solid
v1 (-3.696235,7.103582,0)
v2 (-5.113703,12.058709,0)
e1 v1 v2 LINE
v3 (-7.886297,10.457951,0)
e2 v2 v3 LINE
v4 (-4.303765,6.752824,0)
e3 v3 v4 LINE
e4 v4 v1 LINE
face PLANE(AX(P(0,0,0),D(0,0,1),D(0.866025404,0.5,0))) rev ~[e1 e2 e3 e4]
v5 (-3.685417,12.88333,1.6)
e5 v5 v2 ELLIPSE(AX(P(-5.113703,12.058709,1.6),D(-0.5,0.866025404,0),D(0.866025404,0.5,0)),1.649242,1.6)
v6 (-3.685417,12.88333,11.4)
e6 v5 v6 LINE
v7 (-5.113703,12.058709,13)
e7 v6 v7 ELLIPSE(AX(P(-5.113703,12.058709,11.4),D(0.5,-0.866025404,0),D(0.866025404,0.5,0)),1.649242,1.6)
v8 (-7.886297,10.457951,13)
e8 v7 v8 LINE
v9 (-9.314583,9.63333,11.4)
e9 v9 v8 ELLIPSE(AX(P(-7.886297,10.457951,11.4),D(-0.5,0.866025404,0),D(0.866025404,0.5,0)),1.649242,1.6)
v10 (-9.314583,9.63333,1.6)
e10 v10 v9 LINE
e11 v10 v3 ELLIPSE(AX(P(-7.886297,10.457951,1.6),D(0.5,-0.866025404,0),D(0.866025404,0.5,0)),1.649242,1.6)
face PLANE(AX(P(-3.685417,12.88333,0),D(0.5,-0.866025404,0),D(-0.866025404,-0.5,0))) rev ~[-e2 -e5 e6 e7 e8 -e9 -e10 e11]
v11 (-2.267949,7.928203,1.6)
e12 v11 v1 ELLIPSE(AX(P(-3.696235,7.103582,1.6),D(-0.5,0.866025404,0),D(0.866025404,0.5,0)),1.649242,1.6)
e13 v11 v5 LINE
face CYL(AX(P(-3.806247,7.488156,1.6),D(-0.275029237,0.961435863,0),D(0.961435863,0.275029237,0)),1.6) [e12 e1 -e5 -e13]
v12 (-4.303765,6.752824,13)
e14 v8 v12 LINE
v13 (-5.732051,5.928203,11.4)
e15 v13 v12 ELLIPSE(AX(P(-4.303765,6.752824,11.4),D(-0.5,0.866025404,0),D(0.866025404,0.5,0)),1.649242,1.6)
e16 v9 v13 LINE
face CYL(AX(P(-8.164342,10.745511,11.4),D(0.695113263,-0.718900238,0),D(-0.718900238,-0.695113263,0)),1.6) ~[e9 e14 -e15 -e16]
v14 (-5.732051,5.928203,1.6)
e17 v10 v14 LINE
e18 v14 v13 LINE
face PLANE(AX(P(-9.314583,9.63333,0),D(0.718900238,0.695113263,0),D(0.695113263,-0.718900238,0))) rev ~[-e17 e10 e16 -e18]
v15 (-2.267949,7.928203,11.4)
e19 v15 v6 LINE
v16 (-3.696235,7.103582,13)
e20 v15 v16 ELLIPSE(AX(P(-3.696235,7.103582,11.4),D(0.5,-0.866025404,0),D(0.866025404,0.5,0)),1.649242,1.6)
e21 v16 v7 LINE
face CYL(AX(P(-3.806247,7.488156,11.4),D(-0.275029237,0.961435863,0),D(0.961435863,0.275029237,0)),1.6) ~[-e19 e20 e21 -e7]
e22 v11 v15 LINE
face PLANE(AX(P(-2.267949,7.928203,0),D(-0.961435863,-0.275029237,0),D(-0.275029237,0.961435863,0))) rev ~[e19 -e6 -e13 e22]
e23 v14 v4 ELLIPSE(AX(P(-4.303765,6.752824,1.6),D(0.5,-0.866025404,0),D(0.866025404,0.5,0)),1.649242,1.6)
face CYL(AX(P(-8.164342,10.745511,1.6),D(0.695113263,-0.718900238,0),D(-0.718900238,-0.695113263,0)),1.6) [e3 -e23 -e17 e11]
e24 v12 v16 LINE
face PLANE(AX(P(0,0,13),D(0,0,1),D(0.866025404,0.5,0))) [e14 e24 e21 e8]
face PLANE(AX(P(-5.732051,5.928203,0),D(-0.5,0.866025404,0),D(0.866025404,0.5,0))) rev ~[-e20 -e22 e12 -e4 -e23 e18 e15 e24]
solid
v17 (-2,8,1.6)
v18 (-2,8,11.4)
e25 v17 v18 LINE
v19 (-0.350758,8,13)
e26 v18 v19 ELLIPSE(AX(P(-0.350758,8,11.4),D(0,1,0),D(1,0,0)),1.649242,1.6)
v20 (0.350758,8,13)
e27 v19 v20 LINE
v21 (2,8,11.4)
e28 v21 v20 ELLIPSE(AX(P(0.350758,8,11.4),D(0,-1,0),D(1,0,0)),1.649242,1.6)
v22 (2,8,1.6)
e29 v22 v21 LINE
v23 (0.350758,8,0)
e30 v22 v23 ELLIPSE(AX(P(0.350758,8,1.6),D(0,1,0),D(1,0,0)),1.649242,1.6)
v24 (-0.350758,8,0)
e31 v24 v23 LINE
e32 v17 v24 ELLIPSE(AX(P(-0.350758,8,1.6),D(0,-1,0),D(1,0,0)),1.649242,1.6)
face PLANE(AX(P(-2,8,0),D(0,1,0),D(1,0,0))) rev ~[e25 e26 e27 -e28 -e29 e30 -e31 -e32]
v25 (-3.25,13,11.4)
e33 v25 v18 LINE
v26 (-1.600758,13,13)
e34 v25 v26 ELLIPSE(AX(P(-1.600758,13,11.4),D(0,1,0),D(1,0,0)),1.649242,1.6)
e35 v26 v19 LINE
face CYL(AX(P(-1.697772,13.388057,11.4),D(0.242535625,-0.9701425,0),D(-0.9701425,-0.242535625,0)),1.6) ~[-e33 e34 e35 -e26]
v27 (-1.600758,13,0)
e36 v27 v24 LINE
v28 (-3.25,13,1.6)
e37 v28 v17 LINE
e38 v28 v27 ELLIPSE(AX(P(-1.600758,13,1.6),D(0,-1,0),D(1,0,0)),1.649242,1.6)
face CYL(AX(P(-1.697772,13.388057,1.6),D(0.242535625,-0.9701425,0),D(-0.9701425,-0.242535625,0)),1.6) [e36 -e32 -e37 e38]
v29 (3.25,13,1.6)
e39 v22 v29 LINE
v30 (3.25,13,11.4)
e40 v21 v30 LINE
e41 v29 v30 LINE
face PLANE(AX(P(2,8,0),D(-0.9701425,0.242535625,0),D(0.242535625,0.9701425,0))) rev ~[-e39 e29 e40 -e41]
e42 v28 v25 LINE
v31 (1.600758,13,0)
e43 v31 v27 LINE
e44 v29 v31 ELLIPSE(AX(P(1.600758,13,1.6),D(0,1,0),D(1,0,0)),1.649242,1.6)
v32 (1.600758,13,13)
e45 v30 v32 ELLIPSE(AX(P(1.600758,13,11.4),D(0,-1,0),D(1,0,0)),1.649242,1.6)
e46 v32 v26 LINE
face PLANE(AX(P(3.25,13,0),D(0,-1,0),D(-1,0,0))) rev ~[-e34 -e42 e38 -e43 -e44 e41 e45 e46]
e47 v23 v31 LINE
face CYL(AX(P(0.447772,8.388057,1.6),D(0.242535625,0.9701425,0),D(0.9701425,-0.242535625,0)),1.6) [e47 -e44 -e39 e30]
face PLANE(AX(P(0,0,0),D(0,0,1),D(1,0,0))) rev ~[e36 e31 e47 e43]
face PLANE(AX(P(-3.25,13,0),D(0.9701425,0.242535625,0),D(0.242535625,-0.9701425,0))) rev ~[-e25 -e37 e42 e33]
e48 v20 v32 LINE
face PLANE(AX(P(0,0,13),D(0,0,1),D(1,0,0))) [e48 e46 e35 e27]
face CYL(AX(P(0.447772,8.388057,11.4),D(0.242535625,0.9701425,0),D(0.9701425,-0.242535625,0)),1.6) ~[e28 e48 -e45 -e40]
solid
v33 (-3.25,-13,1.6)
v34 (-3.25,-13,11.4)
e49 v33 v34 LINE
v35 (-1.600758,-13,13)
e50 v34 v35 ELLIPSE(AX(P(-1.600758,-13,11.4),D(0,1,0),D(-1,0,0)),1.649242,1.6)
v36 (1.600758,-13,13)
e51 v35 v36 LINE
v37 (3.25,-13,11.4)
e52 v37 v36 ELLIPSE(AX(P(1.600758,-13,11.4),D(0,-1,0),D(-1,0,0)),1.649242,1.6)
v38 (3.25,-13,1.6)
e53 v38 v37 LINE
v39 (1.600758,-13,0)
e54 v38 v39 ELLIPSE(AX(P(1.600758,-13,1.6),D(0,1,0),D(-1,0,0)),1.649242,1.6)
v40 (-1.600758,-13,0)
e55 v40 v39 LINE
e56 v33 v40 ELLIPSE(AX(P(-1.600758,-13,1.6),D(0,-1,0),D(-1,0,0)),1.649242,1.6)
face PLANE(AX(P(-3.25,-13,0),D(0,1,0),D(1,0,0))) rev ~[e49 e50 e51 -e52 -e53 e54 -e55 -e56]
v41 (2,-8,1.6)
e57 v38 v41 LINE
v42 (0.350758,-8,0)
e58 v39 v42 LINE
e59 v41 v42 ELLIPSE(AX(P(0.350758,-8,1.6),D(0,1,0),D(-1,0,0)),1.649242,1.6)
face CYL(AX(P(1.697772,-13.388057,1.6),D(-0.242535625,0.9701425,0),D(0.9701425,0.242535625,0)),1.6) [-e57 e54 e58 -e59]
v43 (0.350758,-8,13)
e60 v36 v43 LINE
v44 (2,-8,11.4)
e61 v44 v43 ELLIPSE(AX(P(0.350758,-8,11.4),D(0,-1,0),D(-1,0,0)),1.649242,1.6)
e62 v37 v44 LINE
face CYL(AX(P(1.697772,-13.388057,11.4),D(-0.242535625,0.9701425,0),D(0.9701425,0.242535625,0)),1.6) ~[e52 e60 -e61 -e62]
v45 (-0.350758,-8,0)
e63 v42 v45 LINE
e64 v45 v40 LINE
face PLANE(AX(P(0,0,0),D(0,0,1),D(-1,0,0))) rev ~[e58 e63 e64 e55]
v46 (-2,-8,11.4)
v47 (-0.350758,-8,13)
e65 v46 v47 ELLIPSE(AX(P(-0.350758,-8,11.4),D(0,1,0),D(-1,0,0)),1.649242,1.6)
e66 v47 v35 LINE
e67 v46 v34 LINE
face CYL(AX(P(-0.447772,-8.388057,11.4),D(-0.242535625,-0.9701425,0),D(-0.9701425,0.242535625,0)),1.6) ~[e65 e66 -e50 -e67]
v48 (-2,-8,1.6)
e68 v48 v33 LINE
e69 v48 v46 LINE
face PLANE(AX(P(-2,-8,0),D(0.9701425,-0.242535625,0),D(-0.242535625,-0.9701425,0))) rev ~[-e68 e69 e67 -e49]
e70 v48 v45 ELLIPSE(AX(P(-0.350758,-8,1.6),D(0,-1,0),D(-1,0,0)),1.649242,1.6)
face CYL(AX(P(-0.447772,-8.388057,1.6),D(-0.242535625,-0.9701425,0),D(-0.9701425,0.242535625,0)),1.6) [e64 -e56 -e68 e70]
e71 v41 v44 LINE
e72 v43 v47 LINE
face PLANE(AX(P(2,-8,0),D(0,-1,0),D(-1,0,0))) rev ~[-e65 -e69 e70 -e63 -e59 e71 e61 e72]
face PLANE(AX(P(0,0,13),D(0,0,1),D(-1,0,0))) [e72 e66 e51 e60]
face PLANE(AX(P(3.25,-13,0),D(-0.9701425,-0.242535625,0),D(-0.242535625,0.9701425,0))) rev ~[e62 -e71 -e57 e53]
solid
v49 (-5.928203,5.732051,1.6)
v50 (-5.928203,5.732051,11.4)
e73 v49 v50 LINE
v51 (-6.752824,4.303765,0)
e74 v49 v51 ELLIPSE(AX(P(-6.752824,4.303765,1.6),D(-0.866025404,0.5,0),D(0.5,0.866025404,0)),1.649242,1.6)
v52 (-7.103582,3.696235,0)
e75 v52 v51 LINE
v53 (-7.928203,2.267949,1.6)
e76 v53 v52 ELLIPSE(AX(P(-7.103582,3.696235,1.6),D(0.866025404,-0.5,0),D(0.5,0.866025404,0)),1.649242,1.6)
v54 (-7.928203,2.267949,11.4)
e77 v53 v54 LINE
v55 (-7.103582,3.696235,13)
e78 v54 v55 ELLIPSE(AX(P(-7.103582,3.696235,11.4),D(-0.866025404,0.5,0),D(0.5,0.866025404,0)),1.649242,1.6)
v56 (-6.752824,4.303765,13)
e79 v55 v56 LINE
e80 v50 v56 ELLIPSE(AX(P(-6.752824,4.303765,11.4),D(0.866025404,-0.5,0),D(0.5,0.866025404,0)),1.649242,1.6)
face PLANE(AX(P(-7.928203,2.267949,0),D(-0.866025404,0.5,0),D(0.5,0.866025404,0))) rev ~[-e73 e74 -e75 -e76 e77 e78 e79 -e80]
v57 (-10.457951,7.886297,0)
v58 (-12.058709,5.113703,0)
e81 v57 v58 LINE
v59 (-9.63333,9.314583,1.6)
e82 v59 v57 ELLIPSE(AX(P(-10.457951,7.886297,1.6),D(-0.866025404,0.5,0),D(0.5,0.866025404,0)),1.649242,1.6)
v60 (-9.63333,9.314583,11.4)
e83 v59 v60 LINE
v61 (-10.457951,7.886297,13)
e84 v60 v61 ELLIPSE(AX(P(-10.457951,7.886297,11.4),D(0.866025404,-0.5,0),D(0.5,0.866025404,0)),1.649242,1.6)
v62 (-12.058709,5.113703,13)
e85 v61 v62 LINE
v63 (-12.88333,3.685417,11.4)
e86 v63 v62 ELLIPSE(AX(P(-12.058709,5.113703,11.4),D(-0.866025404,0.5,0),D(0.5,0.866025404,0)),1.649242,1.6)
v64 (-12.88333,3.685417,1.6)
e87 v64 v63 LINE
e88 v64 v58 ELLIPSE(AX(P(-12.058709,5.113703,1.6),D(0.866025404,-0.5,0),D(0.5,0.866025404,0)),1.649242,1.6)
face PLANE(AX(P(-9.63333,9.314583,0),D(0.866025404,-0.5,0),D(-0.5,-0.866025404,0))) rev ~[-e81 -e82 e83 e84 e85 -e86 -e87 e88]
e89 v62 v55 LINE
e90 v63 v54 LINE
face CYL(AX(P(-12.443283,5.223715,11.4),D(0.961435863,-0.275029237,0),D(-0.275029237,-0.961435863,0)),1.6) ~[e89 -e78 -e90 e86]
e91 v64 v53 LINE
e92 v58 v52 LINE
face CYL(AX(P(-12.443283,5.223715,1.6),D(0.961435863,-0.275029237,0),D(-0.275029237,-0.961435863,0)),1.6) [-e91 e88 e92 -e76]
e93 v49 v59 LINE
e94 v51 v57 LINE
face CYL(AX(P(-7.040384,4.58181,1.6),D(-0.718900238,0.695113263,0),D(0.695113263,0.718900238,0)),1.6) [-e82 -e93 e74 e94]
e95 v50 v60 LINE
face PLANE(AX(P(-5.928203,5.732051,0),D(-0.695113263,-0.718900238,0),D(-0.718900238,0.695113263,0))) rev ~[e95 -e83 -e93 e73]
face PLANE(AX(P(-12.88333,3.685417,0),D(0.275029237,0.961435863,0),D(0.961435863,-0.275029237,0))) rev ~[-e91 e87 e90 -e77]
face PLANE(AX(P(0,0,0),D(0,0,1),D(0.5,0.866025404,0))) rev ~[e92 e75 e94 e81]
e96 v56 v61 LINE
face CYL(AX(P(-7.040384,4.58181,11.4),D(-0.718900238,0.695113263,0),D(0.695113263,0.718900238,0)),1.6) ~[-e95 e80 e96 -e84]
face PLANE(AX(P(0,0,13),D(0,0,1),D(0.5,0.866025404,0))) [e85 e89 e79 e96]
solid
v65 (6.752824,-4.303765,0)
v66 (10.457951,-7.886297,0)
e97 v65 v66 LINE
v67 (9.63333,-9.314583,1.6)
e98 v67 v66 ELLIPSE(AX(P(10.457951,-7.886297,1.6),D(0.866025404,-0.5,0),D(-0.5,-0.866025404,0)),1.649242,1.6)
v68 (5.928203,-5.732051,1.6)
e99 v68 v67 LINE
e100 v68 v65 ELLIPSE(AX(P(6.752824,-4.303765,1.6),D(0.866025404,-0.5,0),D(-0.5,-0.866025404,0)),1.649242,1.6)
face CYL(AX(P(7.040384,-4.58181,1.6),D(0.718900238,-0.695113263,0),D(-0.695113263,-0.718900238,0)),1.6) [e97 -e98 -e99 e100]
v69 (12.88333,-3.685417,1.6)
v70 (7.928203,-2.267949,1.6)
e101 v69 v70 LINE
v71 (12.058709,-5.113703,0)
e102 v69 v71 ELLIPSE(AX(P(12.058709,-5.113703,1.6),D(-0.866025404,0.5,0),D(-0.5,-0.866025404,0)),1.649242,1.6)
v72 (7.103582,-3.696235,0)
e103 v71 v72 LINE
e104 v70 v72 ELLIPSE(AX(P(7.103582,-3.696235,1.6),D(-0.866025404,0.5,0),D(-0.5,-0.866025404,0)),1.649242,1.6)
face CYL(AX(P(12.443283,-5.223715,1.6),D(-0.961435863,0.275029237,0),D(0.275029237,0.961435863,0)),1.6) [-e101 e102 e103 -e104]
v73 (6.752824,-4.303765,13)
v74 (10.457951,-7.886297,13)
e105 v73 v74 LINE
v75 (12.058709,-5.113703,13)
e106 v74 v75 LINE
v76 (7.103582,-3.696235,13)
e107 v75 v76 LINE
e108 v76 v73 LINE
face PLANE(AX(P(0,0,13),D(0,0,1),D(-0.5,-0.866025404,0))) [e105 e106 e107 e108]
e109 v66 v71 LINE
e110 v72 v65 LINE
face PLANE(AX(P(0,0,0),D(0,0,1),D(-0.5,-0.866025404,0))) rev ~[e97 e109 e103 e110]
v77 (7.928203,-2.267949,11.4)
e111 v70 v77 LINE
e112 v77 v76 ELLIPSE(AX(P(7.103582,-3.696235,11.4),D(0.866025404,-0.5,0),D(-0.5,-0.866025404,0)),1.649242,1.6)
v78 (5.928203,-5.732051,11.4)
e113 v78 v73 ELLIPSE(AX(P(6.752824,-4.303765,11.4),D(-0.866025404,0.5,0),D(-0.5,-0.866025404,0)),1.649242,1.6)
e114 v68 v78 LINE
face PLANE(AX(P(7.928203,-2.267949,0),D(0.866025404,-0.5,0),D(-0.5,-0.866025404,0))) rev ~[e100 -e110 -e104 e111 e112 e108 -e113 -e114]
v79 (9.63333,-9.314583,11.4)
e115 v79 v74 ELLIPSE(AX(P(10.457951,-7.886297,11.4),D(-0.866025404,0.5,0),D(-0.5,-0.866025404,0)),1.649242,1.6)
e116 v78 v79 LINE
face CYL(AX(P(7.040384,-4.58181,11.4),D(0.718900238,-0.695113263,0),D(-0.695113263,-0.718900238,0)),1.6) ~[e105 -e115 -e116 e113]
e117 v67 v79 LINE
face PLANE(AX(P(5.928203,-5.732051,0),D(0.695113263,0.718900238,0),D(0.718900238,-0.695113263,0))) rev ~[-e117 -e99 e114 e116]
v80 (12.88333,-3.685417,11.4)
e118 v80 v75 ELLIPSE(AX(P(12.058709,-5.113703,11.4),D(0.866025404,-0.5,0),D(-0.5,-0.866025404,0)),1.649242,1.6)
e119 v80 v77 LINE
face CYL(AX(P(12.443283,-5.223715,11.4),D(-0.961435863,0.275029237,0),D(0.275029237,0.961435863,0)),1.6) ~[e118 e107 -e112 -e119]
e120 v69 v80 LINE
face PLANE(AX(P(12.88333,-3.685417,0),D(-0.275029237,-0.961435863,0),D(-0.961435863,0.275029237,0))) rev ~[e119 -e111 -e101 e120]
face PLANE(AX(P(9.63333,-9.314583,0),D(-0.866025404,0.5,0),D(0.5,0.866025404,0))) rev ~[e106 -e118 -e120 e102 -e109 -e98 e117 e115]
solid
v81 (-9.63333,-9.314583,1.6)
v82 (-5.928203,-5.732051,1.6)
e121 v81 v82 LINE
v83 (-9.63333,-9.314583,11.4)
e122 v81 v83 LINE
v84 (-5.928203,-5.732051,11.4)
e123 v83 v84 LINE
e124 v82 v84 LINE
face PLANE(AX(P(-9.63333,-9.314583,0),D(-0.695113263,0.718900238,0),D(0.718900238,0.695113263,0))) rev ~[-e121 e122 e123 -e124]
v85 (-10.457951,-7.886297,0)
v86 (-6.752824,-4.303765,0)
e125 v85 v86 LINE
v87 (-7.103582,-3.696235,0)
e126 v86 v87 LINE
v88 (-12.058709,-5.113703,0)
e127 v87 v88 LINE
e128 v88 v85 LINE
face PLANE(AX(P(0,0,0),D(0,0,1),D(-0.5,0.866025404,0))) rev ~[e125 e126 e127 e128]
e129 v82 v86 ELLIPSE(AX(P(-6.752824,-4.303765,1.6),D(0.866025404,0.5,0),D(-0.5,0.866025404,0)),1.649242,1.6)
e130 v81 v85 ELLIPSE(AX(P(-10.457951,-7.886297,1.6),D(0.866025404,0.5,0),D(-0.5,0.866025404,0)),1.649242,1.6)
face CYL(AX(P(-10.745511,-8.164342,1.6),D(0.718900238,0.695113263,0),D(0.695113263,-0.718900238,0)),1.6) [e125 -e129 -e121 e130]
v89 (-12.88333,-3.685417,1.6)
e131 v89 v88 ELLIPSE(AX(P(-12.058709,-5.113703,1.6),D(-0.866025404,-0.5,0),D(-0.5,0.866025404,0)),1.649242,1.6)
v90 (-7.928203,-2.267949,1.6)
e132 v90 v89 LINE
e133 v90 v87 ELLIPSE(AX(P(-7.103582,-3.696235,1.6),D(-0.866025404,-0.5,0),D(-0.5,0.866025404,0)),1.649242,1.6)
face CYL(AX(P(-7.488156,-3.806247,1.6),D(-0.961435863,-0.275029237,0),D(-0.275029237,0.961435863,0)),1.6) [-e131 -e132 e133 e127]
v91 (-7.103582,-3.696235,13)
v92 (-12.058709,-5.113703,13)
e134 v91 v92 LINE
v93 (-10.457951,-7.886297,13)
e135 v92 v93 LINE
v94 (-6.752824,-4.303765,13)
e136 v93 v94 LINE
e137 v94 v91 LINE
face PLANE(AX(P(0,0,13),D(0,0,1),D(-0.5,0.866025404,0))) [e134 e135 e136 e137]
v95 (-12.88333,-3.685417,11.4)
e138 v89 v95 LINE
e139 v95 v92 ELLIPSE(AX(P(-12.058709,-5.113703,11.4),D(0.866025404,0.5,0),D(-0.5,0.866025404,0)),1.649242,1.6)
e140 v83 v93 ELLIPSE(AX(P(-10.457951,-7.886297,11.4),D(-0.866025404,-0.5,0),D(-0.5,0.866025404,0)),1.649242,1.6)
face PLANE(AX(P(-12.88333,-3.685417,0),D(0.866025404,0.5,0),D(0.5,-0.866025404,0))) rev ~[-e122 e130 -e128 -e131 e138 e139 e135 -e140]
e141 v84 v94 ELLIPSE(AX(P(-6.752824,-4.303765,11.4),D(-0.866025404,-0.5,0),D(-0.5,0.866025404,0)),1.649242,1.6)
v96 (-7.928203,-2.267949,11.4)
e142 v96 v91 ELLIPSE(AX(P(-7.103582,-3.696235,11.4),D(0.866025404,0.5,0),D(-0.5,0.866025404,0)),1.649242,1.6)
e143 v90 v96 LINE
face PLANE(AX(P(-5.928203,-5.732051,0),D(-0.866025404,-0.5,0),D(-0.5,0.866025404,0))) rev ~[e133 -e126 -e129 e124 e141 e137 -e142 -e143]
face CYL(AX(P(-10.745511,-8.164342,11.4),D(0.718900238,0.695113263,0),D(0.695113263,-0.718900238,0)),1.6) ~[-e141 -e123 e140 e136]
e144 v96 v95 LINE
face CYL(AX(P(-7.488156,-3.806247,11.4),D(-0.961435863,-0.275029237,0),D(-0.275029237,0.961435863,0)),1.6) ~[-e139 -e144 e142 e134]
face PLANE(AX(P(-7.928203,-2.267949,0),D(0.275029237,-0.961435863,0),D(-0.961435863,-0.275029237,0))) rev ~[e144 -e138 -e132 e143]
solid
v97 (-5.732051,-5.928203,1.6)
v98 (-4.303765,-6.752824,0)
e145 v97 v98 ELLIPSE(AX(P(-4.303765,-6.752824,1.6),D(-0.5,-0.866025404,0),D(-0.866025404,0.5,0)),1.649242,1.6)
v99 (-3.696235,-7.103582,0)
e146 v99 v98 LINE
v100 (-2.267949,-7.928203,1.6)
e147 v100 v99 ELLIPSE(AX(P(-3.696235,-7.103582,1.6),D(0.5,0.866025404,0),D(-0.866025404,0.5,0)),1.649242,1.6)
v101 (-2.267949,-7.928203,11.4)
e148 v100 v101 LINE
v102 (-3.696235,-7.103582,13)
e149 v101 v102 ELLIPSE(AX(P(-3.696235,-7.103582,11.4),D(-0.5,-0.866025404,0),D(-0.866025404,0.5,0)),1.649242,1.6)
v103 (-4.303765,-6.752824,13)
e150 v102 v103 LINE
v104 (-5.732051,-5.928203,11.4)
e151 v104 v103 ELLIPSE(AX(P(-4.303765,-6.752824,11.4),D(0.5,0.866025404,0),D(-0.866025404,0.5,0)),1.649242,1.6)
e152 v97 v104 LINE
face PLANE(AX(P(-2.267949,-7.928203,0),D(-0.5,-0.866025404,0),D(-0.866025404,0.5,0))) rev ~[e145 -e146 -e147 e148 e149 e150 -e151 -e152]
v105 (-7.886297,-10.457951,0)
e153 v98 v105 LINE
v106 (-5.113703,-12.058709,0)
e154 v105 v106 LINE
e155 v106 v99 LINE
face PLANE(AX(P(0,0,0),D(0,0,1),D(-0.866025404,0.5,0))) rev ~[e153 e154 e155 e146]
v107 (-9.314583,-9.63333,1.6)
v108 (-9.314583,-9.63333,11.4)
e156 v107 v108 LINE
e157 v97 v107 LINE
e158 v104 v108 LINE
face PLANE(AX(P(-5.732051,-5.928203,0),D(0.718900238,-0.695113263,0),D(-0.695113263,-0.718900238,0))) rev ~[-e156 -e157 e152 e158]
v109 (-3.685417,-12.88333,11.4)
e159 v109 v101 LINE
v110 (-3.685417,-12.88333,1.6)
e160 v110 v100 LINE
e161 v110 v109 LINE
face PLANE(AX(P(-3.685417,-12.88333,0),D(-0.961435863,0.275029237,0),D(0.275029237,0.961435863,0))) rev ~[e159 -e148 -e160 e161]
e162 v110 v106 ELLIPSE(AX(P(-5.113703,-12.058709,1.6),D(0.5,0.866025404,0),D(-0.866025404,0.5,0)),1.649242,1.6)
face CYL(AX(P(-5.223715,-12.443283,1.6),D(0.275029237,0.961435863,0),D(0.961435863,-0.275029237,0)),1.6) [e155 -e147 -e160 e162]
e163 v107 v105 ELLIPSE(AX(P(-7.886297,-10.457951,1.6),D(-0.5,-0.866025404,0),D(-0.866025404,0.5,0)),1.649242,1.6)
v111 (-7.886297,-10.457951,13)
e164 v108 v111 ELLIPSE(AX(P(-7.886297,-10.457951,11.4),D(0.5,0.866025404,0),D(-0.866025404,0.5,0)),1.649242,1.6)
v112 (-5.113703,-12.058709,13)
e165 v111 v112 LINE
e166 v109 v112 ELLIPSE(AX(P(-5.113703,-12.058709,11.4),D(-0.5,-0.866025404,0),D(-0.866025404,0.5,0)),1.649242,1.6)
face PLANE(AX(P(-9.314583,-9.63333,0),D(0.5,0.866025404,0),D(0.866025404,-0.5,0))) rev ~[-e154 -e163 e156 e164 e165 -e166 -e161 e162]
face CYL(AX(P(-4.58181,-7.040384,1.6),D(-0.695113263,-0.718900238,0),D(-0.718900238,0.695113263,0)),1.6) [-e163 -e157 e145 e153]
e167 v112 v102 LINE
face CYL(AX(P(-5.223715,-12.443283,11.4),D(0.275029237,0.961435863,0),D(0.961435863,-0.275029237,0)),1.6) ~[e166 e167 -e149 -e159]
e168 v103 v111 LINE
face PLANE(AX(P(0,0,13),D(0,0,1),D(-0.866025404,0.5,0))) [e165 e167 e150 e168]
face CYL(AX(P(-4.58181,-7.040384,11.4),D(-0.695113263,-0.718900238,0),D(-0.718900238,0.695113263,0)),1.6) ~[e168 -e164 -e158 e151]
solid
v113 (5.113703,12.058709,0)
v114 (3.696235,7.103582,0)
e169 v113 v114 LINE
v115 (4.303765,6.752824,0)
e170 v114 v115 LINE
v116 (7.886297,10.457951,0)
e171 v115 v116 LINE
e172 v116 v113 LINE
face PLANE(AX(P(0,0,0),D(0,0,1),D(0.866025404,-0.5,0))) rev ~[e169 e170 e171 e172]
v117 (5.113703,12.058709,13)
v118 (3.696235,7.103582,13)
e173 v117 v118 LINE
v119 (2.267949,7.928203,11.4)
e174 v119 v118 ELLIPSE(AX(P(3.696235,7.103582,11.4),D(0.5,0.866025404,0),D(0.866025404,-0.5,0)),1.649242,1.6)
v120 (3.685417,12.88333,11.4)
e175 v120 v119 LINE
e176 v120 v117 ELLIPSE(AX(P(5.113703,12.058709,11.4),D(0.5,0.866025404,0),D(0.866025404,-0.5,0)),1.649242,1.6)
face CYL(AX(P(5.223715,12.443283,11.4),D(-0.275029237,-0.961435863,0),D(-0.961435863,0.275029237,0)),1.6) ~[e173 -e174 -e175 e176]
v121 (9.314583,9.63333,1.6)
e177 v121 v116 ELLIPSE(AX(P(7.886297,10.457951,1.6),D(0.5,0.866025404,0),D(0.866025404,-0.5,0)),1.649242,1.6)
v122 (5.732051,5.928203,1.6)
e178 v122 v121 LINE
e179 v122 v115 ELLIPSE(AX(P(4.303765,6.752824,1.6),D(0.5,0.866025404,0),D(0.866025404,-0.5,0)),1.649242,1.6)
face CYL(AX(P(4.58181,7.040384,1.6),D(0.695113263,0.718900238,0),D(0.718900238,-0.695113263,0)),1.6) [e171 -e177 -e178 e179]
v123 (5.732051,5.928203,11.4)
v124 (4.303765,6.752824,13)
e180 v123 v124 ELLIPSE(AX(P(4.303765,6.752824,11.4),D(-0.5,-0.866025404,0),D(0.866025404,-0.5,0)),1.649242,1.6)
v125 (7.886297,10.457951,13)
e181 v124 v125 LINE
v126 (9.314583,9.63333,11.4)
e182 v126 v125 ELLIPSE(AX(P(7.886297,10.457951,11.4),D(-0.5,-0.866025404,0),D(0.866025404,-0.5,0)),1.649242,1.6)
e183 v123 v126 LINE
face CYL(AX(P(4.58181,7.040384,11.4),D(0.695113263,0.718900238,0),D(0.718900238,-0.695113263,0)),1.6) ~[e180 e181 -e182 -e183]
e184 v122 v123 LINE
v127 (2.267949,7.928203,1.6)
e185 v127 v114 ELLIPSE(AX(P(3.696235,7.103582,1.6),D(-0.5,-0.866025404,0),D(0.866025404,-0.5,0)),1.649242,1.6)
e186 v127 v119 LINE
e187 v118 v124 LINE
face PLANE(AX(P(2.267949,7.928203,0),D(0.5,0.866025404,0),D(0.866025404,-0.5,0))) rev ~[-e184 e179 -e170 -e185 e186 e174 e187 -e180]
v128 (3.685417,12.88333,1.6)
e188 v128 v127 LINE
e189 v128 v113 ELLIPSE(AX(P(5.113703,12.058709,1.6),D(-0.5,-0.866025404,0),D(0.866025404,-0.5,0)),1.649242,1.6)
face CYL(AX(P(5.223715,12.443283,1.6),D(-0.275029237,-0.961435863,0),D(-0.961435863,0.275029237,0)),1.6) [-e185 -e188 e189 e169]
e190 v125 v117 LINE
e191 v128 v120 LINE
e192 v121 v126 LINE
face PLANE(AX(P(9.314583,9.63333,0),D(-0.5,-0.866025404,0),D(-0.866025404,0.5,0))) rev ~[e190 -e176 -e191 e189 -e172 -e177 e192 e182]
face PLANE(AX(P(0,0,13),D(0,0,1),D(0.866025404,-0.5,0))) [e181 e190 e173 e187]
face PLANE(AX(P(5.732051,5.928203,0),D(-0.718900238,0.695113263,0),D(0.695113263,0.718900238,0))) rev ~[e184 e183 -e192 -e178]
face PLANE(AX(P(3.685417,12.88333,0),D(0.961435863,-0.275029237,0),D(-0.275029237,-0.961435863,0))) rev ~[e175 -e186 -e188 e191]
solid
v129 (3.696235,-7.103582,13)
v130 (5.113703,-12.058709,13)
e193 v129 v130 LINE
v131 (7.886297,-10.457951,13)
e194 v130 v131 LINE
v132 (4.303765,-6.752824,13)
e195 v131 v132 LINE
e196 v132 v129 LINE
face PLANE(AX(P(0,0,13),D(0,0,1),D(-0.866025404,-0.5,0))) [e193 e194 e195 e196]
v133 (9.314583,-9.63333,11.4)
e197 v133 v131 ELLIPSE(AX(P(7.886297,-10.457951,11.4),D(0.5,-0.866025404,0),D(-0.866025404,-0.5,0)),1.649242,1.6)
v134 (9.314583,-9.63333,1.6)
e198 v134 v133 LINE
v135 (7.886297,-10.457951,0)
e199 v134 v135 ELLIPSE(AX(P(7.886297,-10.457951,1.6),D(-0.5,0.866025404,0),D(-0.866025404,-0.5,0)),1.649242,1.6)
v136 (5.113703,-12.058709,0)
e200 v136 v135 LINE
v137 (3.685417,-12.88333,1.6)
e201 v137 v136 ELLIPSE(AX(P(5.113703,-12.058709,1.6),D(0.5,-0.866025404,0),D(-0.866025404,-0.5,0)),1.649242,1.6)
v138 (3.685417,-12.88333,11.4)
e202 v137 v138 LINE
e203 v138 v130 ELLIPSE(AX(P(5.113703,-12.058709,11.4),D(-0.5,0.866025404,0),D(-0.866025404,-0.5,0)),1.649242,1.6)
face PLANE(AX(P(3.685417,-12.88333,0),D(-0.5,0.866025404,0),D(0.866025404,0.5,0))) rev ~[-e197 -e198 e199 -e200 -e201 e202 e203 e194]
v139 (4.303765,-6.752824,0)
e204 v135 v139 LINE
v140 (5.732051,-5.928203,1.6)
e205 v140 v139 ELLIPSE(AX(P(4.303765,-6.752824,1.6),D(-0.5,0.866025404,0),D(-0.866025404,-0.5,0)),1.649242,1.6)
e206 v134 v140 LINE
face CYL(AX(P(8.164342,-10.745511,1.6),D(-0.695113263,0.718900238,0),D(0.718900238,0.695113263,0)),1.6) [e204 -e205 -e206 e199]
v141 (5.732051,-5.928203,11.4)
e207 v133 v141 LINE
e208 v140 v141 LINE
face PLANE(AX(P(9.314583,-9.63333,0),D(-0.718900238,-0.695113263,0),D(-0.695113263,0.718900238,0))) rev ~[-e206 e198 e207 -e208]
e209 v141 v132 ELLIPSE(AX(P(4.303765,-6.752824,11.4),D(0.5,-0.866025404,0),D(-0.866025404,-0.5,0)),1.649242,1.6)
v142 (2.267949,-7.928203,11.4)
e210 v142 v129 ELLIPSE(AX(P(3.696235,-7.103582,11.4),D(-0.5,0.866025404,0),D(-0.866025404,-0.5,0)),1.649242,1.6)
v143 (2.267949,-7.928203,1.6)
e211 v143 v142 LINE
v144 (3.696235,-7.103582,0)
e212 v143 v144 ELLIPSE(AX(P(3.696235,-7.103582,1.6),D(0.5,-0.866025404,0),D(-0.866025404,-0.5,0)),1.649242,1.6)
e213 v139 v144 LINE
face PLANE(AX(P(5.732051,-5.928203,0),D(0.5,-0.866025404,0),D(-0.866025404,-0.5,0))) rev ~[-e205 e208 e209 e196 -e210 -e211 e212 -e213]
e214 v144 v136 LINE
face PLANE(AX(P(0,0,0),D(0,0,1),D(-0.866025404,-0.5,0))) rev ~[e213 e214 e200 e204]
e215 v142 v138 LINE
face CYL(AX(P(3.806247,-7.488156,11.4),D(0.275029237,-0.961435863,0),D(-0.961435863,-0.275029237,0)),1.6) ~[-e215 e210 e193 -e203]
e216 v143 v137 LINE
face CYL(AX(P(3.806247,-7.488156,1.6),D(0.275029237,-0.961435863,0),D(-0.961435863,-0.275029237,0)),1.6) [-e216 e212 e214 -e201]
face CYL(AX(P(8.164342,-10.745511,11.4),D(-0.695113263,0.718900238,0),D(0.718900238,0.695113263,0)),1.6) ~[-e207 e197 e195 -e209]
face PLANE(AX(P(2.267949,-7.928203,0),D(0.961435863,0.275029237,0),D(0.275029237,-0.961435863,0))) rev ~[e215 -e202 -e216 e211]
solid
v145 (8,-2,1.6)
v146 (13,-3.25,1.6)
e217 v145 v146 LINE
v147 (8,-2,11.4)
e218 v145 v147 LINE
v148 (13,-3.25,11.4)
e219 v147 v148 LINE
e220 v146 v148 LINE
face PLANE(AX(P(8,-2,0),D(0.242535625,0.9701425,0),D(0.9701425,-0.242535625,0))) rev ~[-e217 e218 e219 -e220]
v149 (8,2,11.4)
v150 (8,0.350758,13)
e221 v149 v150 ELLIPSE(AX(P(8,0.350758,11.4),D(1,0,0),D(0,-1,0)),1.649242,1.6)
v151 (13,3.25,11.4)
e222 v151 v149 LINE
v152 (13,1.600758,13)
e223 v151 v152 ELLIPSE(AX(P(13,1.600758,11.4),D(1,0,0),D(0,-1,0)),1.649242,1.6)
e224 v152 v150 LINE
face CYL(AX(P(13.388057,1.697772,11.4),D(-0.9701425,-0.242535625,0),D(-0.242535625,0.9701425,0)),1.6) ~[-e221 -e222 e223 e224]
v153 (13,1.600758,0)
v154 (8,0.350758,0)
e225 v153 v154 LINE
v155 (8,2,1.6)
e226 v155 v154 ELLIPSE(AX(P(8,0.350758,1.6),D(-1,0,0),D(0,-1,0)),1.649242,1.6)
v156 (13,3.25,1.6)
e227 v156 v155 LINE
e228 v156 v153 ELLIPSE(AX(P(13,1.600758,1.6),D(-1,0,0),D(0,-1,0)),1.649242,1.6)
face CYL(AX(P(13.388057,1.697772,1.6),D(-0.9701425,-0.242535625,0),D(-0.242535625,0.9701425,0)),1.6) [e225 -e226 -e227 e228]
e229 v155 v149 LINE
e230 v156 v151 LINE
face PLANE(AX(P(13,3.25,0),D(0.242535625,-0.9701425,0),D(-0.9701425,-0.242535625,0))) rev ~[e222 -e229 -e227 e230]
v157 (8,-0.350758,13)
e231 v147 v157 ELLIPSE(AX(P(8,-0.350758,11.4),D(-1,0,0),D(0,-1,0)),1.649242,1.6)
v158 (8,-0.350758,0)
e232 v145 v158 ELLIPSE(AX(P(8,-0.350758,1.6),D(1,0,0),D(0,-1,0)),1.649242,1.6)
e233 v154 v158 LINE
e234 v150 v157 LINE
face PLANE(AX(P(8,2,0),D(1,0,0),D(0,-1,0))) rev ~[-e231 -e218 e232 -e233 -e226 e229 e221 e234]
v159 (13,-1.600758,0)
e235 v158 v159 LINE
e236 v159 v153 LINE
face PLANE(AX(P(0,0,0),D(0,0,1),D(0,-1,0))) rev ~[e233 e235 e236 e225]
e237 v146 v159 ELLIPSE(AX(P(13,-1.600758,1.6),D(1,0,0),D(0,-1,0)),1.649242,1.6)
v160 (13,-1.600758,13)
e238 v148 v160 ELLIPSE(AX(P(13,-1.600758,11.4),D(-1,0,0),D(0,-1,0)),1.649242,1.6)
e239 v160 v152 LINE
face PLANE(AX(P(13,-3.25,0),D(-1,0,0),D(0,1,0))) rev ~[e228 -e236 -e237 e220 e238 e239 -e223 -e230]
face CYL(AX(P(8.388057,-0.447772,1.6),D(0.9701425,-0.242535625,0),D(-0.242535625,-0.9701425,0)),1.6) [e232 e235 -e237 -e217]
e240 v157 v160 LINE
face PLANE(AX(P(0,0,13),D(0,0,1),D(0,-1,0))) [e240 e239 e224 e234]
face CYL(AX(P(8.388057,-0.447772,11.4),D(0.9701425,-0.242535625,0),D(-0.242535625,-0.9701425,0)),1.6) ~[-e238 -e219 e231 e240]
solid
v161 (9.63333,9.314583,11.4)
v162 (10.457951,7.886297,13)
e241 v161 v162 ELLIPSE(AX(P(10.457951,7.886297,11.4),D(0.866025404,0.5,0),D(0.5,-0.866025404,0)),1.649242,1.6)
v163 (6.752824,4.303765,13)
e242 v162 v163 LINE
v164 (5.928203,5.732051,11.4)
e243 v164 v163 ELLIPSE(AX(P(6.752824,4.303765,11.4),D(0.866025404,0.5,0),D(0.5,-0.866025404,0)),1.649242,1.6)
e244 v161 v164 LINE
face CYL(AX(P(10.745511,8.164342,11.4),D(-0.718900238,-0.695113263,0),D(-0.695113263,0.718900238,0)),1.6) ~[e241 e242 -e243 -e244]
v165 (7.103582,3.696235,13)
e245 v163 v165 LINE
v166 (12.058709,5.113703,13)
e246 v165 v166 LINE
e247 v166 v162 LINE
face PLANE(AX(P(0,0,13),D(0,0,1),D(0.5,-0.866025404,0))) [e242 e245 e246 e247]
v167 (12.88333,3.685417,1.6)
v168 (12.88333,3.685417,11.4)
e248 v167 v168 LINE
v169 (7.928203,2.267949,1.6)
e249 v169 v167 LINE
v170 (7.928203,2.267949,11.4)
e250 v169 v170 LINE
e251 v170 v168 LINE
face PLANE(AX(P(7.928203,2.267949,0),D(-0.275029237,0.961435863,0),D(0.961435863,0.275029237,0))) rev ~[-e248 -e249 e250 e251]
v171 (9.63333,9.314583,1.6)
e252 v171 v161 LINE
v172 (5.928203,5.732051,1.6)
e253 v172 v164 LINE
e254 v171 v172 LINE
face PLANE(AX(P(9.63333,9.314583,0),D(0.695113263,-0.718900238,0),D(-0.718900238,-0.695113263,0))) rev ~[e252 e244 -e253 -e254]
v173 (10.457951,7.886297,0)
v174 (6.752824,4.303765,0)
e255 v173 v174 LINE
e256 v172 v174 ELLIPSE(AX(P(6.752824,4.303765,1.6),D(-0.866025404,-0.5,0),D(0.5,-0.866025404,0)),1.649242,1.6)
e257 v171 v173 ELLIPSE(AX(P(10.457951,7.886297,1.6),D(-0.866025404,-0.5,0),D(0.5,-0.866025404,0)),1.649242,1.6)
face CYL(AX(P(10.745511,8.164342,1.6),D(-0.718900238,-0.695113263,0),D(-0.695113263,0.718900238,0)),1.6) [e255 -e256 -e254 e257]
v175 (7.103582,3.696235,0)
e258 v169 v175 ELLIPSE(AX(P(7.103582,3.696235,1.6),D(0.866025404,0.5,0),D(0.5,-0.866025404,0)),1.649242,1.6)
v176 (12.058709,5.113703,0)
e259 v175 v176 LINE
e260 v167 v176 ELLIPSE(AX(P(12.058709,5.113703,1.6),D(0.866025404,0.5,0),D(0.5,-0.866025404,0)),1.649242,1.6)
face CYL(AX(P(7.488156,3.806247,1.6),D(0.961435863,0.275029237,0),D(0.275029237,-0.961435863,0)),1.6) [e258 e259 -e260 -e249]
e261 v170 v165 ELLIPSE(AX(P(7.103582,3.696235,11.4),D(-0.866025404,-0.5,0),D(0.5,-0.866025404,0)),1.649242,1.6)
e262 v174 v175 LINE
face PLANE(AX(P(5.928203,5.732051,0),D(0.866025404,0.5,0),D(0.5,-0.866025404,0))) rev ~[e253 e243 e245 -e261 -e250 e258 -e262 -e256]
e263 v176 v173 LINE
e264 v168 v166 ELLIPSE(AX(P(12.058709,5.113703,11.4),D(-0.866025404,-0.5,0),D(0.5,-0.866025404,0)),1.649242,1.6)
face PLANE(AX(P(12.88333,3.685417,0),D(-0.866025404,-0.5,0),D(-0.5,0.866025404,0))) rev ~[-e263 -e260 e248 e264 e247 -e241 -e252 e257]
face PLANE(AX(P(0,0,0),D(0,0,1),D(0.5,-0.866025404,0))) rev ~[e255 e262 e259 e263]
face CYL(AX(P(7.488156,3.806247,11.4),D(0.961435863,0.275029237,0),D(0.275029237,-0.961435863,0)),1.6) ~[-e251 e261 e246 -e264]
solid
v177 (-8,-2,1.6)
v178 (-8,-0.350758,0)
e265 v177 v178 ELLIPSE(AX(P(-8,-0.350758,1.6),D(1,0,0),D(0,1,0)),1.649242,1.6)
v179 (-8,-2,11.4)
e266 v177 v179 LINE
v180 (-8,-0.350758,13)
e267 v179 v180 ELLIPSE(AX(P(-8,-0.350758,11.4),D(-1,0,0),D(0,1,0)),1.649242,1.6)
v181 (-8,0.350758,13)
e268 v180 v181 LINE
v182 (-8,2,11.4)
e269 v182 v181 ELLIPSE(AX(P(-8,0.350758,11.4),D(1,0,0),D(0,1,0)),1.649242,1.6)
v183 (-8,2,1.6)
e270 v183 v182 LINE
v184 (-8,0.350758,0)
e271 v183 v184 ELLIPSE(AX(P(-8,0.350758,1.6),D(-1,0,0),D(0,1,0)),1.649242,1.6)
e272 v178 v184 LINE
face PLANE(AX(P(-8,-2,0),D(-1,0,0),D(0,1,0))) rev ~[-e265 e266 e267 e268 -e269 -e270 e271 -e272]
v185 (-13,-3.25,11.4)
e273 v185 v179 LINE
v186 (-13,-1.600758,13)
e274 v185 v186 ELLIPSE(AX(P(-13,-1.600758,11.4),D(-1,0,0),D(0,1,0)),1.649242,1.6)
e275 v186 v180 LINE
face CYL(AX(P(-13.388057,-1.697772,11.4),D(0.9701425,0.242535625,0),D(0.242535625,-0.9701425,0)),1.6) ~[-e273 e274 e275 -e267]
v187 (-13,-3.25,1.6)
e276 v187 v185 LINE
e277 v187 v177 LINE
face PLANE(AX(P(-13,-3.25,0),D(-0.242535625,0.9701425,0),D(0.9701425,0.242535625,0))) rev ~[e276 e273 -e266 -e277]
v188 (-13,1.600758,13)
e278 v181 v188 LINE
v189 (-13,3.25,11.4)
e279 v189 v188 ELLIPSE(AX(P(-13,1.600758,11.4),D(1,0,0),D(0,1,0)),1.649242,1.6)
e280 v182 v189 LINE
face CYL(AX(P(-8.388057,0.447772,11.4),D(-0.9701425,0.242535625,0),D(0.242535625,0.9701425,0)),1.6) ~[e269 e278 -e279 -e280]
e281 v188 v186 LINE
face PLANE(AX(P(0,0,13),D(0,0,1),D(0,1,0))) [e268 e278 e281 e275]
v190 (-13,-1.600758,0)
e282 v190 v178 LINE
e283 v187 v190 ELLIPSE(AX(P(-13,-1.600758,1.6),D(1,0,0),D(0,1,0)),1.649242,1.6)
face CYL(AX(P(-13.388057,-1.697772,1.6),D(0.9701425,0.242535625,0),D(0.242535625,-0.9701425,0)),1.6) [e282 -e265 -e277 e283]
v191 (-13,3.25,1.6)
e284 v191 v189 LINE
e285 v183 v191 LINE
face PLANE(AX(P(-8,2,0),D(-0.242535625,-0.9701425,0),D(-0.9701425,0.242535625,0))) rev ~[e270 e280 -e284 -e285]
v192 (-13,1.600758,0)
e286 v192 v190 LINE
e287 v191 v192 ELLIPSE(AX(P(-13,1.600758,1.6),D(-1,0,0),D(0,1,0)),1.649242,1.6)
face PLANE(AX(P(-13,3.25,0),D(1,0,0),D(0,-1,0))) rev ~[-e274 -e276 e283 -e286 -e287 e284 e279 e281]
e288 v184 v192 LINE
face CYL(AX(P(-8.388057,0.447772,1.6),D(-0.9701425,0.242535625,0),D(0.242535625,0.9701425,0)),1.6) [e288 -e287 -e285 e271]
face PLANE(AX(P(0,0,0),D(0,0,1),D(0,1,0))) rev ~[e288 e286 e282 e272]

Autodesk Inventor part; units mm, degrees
ref_plane "YZ Plane" through (0, 0, 0) normal (1, 0, 0) x (0, 1, 0)
ref_plane "XZ Plane" through (0, 0, 0) normal (0, 1, 0) x (-1, 0, 0)
ref_plane "XY Plane" through (0, 0, 0) normal (0, 0, 1) x (1, 0, 0)
sketch "Sketch1" plane through (0, 0, 0) normal (0, 0, 1) x (1, 0, 0)
  line L0 (-2, 8) -> (2, 8)
  line L1 (2, 8) -> (3.25, 13)
  line L2 (3.25, 13) -> (-3.25, 13)
  line L3 (-3.25, 13) -> (-2, 8)
  point P0 (0, 0)
  dimension "d0" = 8
  dimension "d1" = 5
  dimension "d2" = 4
  dimension "d3" = 2
  dimension "d4" = 6.5
  dimension "d5" = 3.25
extrude "Extrusion1" add sketch "Sketch1" along normal blind 13
fillet "Fillet1" radius 1.6 4 edges at (2.625, 10.5, 13) (-2.625, 10.5, 13) (2.625, 10.5, 0) (-2.625, 10.5, 0)
pattern_circular "Circular Pattern1" count 12 over 360 about axis through (0, 0, -10) along (0, 0, 1) of "Extrusion1", "Fillet1"
properties part number "coils"
